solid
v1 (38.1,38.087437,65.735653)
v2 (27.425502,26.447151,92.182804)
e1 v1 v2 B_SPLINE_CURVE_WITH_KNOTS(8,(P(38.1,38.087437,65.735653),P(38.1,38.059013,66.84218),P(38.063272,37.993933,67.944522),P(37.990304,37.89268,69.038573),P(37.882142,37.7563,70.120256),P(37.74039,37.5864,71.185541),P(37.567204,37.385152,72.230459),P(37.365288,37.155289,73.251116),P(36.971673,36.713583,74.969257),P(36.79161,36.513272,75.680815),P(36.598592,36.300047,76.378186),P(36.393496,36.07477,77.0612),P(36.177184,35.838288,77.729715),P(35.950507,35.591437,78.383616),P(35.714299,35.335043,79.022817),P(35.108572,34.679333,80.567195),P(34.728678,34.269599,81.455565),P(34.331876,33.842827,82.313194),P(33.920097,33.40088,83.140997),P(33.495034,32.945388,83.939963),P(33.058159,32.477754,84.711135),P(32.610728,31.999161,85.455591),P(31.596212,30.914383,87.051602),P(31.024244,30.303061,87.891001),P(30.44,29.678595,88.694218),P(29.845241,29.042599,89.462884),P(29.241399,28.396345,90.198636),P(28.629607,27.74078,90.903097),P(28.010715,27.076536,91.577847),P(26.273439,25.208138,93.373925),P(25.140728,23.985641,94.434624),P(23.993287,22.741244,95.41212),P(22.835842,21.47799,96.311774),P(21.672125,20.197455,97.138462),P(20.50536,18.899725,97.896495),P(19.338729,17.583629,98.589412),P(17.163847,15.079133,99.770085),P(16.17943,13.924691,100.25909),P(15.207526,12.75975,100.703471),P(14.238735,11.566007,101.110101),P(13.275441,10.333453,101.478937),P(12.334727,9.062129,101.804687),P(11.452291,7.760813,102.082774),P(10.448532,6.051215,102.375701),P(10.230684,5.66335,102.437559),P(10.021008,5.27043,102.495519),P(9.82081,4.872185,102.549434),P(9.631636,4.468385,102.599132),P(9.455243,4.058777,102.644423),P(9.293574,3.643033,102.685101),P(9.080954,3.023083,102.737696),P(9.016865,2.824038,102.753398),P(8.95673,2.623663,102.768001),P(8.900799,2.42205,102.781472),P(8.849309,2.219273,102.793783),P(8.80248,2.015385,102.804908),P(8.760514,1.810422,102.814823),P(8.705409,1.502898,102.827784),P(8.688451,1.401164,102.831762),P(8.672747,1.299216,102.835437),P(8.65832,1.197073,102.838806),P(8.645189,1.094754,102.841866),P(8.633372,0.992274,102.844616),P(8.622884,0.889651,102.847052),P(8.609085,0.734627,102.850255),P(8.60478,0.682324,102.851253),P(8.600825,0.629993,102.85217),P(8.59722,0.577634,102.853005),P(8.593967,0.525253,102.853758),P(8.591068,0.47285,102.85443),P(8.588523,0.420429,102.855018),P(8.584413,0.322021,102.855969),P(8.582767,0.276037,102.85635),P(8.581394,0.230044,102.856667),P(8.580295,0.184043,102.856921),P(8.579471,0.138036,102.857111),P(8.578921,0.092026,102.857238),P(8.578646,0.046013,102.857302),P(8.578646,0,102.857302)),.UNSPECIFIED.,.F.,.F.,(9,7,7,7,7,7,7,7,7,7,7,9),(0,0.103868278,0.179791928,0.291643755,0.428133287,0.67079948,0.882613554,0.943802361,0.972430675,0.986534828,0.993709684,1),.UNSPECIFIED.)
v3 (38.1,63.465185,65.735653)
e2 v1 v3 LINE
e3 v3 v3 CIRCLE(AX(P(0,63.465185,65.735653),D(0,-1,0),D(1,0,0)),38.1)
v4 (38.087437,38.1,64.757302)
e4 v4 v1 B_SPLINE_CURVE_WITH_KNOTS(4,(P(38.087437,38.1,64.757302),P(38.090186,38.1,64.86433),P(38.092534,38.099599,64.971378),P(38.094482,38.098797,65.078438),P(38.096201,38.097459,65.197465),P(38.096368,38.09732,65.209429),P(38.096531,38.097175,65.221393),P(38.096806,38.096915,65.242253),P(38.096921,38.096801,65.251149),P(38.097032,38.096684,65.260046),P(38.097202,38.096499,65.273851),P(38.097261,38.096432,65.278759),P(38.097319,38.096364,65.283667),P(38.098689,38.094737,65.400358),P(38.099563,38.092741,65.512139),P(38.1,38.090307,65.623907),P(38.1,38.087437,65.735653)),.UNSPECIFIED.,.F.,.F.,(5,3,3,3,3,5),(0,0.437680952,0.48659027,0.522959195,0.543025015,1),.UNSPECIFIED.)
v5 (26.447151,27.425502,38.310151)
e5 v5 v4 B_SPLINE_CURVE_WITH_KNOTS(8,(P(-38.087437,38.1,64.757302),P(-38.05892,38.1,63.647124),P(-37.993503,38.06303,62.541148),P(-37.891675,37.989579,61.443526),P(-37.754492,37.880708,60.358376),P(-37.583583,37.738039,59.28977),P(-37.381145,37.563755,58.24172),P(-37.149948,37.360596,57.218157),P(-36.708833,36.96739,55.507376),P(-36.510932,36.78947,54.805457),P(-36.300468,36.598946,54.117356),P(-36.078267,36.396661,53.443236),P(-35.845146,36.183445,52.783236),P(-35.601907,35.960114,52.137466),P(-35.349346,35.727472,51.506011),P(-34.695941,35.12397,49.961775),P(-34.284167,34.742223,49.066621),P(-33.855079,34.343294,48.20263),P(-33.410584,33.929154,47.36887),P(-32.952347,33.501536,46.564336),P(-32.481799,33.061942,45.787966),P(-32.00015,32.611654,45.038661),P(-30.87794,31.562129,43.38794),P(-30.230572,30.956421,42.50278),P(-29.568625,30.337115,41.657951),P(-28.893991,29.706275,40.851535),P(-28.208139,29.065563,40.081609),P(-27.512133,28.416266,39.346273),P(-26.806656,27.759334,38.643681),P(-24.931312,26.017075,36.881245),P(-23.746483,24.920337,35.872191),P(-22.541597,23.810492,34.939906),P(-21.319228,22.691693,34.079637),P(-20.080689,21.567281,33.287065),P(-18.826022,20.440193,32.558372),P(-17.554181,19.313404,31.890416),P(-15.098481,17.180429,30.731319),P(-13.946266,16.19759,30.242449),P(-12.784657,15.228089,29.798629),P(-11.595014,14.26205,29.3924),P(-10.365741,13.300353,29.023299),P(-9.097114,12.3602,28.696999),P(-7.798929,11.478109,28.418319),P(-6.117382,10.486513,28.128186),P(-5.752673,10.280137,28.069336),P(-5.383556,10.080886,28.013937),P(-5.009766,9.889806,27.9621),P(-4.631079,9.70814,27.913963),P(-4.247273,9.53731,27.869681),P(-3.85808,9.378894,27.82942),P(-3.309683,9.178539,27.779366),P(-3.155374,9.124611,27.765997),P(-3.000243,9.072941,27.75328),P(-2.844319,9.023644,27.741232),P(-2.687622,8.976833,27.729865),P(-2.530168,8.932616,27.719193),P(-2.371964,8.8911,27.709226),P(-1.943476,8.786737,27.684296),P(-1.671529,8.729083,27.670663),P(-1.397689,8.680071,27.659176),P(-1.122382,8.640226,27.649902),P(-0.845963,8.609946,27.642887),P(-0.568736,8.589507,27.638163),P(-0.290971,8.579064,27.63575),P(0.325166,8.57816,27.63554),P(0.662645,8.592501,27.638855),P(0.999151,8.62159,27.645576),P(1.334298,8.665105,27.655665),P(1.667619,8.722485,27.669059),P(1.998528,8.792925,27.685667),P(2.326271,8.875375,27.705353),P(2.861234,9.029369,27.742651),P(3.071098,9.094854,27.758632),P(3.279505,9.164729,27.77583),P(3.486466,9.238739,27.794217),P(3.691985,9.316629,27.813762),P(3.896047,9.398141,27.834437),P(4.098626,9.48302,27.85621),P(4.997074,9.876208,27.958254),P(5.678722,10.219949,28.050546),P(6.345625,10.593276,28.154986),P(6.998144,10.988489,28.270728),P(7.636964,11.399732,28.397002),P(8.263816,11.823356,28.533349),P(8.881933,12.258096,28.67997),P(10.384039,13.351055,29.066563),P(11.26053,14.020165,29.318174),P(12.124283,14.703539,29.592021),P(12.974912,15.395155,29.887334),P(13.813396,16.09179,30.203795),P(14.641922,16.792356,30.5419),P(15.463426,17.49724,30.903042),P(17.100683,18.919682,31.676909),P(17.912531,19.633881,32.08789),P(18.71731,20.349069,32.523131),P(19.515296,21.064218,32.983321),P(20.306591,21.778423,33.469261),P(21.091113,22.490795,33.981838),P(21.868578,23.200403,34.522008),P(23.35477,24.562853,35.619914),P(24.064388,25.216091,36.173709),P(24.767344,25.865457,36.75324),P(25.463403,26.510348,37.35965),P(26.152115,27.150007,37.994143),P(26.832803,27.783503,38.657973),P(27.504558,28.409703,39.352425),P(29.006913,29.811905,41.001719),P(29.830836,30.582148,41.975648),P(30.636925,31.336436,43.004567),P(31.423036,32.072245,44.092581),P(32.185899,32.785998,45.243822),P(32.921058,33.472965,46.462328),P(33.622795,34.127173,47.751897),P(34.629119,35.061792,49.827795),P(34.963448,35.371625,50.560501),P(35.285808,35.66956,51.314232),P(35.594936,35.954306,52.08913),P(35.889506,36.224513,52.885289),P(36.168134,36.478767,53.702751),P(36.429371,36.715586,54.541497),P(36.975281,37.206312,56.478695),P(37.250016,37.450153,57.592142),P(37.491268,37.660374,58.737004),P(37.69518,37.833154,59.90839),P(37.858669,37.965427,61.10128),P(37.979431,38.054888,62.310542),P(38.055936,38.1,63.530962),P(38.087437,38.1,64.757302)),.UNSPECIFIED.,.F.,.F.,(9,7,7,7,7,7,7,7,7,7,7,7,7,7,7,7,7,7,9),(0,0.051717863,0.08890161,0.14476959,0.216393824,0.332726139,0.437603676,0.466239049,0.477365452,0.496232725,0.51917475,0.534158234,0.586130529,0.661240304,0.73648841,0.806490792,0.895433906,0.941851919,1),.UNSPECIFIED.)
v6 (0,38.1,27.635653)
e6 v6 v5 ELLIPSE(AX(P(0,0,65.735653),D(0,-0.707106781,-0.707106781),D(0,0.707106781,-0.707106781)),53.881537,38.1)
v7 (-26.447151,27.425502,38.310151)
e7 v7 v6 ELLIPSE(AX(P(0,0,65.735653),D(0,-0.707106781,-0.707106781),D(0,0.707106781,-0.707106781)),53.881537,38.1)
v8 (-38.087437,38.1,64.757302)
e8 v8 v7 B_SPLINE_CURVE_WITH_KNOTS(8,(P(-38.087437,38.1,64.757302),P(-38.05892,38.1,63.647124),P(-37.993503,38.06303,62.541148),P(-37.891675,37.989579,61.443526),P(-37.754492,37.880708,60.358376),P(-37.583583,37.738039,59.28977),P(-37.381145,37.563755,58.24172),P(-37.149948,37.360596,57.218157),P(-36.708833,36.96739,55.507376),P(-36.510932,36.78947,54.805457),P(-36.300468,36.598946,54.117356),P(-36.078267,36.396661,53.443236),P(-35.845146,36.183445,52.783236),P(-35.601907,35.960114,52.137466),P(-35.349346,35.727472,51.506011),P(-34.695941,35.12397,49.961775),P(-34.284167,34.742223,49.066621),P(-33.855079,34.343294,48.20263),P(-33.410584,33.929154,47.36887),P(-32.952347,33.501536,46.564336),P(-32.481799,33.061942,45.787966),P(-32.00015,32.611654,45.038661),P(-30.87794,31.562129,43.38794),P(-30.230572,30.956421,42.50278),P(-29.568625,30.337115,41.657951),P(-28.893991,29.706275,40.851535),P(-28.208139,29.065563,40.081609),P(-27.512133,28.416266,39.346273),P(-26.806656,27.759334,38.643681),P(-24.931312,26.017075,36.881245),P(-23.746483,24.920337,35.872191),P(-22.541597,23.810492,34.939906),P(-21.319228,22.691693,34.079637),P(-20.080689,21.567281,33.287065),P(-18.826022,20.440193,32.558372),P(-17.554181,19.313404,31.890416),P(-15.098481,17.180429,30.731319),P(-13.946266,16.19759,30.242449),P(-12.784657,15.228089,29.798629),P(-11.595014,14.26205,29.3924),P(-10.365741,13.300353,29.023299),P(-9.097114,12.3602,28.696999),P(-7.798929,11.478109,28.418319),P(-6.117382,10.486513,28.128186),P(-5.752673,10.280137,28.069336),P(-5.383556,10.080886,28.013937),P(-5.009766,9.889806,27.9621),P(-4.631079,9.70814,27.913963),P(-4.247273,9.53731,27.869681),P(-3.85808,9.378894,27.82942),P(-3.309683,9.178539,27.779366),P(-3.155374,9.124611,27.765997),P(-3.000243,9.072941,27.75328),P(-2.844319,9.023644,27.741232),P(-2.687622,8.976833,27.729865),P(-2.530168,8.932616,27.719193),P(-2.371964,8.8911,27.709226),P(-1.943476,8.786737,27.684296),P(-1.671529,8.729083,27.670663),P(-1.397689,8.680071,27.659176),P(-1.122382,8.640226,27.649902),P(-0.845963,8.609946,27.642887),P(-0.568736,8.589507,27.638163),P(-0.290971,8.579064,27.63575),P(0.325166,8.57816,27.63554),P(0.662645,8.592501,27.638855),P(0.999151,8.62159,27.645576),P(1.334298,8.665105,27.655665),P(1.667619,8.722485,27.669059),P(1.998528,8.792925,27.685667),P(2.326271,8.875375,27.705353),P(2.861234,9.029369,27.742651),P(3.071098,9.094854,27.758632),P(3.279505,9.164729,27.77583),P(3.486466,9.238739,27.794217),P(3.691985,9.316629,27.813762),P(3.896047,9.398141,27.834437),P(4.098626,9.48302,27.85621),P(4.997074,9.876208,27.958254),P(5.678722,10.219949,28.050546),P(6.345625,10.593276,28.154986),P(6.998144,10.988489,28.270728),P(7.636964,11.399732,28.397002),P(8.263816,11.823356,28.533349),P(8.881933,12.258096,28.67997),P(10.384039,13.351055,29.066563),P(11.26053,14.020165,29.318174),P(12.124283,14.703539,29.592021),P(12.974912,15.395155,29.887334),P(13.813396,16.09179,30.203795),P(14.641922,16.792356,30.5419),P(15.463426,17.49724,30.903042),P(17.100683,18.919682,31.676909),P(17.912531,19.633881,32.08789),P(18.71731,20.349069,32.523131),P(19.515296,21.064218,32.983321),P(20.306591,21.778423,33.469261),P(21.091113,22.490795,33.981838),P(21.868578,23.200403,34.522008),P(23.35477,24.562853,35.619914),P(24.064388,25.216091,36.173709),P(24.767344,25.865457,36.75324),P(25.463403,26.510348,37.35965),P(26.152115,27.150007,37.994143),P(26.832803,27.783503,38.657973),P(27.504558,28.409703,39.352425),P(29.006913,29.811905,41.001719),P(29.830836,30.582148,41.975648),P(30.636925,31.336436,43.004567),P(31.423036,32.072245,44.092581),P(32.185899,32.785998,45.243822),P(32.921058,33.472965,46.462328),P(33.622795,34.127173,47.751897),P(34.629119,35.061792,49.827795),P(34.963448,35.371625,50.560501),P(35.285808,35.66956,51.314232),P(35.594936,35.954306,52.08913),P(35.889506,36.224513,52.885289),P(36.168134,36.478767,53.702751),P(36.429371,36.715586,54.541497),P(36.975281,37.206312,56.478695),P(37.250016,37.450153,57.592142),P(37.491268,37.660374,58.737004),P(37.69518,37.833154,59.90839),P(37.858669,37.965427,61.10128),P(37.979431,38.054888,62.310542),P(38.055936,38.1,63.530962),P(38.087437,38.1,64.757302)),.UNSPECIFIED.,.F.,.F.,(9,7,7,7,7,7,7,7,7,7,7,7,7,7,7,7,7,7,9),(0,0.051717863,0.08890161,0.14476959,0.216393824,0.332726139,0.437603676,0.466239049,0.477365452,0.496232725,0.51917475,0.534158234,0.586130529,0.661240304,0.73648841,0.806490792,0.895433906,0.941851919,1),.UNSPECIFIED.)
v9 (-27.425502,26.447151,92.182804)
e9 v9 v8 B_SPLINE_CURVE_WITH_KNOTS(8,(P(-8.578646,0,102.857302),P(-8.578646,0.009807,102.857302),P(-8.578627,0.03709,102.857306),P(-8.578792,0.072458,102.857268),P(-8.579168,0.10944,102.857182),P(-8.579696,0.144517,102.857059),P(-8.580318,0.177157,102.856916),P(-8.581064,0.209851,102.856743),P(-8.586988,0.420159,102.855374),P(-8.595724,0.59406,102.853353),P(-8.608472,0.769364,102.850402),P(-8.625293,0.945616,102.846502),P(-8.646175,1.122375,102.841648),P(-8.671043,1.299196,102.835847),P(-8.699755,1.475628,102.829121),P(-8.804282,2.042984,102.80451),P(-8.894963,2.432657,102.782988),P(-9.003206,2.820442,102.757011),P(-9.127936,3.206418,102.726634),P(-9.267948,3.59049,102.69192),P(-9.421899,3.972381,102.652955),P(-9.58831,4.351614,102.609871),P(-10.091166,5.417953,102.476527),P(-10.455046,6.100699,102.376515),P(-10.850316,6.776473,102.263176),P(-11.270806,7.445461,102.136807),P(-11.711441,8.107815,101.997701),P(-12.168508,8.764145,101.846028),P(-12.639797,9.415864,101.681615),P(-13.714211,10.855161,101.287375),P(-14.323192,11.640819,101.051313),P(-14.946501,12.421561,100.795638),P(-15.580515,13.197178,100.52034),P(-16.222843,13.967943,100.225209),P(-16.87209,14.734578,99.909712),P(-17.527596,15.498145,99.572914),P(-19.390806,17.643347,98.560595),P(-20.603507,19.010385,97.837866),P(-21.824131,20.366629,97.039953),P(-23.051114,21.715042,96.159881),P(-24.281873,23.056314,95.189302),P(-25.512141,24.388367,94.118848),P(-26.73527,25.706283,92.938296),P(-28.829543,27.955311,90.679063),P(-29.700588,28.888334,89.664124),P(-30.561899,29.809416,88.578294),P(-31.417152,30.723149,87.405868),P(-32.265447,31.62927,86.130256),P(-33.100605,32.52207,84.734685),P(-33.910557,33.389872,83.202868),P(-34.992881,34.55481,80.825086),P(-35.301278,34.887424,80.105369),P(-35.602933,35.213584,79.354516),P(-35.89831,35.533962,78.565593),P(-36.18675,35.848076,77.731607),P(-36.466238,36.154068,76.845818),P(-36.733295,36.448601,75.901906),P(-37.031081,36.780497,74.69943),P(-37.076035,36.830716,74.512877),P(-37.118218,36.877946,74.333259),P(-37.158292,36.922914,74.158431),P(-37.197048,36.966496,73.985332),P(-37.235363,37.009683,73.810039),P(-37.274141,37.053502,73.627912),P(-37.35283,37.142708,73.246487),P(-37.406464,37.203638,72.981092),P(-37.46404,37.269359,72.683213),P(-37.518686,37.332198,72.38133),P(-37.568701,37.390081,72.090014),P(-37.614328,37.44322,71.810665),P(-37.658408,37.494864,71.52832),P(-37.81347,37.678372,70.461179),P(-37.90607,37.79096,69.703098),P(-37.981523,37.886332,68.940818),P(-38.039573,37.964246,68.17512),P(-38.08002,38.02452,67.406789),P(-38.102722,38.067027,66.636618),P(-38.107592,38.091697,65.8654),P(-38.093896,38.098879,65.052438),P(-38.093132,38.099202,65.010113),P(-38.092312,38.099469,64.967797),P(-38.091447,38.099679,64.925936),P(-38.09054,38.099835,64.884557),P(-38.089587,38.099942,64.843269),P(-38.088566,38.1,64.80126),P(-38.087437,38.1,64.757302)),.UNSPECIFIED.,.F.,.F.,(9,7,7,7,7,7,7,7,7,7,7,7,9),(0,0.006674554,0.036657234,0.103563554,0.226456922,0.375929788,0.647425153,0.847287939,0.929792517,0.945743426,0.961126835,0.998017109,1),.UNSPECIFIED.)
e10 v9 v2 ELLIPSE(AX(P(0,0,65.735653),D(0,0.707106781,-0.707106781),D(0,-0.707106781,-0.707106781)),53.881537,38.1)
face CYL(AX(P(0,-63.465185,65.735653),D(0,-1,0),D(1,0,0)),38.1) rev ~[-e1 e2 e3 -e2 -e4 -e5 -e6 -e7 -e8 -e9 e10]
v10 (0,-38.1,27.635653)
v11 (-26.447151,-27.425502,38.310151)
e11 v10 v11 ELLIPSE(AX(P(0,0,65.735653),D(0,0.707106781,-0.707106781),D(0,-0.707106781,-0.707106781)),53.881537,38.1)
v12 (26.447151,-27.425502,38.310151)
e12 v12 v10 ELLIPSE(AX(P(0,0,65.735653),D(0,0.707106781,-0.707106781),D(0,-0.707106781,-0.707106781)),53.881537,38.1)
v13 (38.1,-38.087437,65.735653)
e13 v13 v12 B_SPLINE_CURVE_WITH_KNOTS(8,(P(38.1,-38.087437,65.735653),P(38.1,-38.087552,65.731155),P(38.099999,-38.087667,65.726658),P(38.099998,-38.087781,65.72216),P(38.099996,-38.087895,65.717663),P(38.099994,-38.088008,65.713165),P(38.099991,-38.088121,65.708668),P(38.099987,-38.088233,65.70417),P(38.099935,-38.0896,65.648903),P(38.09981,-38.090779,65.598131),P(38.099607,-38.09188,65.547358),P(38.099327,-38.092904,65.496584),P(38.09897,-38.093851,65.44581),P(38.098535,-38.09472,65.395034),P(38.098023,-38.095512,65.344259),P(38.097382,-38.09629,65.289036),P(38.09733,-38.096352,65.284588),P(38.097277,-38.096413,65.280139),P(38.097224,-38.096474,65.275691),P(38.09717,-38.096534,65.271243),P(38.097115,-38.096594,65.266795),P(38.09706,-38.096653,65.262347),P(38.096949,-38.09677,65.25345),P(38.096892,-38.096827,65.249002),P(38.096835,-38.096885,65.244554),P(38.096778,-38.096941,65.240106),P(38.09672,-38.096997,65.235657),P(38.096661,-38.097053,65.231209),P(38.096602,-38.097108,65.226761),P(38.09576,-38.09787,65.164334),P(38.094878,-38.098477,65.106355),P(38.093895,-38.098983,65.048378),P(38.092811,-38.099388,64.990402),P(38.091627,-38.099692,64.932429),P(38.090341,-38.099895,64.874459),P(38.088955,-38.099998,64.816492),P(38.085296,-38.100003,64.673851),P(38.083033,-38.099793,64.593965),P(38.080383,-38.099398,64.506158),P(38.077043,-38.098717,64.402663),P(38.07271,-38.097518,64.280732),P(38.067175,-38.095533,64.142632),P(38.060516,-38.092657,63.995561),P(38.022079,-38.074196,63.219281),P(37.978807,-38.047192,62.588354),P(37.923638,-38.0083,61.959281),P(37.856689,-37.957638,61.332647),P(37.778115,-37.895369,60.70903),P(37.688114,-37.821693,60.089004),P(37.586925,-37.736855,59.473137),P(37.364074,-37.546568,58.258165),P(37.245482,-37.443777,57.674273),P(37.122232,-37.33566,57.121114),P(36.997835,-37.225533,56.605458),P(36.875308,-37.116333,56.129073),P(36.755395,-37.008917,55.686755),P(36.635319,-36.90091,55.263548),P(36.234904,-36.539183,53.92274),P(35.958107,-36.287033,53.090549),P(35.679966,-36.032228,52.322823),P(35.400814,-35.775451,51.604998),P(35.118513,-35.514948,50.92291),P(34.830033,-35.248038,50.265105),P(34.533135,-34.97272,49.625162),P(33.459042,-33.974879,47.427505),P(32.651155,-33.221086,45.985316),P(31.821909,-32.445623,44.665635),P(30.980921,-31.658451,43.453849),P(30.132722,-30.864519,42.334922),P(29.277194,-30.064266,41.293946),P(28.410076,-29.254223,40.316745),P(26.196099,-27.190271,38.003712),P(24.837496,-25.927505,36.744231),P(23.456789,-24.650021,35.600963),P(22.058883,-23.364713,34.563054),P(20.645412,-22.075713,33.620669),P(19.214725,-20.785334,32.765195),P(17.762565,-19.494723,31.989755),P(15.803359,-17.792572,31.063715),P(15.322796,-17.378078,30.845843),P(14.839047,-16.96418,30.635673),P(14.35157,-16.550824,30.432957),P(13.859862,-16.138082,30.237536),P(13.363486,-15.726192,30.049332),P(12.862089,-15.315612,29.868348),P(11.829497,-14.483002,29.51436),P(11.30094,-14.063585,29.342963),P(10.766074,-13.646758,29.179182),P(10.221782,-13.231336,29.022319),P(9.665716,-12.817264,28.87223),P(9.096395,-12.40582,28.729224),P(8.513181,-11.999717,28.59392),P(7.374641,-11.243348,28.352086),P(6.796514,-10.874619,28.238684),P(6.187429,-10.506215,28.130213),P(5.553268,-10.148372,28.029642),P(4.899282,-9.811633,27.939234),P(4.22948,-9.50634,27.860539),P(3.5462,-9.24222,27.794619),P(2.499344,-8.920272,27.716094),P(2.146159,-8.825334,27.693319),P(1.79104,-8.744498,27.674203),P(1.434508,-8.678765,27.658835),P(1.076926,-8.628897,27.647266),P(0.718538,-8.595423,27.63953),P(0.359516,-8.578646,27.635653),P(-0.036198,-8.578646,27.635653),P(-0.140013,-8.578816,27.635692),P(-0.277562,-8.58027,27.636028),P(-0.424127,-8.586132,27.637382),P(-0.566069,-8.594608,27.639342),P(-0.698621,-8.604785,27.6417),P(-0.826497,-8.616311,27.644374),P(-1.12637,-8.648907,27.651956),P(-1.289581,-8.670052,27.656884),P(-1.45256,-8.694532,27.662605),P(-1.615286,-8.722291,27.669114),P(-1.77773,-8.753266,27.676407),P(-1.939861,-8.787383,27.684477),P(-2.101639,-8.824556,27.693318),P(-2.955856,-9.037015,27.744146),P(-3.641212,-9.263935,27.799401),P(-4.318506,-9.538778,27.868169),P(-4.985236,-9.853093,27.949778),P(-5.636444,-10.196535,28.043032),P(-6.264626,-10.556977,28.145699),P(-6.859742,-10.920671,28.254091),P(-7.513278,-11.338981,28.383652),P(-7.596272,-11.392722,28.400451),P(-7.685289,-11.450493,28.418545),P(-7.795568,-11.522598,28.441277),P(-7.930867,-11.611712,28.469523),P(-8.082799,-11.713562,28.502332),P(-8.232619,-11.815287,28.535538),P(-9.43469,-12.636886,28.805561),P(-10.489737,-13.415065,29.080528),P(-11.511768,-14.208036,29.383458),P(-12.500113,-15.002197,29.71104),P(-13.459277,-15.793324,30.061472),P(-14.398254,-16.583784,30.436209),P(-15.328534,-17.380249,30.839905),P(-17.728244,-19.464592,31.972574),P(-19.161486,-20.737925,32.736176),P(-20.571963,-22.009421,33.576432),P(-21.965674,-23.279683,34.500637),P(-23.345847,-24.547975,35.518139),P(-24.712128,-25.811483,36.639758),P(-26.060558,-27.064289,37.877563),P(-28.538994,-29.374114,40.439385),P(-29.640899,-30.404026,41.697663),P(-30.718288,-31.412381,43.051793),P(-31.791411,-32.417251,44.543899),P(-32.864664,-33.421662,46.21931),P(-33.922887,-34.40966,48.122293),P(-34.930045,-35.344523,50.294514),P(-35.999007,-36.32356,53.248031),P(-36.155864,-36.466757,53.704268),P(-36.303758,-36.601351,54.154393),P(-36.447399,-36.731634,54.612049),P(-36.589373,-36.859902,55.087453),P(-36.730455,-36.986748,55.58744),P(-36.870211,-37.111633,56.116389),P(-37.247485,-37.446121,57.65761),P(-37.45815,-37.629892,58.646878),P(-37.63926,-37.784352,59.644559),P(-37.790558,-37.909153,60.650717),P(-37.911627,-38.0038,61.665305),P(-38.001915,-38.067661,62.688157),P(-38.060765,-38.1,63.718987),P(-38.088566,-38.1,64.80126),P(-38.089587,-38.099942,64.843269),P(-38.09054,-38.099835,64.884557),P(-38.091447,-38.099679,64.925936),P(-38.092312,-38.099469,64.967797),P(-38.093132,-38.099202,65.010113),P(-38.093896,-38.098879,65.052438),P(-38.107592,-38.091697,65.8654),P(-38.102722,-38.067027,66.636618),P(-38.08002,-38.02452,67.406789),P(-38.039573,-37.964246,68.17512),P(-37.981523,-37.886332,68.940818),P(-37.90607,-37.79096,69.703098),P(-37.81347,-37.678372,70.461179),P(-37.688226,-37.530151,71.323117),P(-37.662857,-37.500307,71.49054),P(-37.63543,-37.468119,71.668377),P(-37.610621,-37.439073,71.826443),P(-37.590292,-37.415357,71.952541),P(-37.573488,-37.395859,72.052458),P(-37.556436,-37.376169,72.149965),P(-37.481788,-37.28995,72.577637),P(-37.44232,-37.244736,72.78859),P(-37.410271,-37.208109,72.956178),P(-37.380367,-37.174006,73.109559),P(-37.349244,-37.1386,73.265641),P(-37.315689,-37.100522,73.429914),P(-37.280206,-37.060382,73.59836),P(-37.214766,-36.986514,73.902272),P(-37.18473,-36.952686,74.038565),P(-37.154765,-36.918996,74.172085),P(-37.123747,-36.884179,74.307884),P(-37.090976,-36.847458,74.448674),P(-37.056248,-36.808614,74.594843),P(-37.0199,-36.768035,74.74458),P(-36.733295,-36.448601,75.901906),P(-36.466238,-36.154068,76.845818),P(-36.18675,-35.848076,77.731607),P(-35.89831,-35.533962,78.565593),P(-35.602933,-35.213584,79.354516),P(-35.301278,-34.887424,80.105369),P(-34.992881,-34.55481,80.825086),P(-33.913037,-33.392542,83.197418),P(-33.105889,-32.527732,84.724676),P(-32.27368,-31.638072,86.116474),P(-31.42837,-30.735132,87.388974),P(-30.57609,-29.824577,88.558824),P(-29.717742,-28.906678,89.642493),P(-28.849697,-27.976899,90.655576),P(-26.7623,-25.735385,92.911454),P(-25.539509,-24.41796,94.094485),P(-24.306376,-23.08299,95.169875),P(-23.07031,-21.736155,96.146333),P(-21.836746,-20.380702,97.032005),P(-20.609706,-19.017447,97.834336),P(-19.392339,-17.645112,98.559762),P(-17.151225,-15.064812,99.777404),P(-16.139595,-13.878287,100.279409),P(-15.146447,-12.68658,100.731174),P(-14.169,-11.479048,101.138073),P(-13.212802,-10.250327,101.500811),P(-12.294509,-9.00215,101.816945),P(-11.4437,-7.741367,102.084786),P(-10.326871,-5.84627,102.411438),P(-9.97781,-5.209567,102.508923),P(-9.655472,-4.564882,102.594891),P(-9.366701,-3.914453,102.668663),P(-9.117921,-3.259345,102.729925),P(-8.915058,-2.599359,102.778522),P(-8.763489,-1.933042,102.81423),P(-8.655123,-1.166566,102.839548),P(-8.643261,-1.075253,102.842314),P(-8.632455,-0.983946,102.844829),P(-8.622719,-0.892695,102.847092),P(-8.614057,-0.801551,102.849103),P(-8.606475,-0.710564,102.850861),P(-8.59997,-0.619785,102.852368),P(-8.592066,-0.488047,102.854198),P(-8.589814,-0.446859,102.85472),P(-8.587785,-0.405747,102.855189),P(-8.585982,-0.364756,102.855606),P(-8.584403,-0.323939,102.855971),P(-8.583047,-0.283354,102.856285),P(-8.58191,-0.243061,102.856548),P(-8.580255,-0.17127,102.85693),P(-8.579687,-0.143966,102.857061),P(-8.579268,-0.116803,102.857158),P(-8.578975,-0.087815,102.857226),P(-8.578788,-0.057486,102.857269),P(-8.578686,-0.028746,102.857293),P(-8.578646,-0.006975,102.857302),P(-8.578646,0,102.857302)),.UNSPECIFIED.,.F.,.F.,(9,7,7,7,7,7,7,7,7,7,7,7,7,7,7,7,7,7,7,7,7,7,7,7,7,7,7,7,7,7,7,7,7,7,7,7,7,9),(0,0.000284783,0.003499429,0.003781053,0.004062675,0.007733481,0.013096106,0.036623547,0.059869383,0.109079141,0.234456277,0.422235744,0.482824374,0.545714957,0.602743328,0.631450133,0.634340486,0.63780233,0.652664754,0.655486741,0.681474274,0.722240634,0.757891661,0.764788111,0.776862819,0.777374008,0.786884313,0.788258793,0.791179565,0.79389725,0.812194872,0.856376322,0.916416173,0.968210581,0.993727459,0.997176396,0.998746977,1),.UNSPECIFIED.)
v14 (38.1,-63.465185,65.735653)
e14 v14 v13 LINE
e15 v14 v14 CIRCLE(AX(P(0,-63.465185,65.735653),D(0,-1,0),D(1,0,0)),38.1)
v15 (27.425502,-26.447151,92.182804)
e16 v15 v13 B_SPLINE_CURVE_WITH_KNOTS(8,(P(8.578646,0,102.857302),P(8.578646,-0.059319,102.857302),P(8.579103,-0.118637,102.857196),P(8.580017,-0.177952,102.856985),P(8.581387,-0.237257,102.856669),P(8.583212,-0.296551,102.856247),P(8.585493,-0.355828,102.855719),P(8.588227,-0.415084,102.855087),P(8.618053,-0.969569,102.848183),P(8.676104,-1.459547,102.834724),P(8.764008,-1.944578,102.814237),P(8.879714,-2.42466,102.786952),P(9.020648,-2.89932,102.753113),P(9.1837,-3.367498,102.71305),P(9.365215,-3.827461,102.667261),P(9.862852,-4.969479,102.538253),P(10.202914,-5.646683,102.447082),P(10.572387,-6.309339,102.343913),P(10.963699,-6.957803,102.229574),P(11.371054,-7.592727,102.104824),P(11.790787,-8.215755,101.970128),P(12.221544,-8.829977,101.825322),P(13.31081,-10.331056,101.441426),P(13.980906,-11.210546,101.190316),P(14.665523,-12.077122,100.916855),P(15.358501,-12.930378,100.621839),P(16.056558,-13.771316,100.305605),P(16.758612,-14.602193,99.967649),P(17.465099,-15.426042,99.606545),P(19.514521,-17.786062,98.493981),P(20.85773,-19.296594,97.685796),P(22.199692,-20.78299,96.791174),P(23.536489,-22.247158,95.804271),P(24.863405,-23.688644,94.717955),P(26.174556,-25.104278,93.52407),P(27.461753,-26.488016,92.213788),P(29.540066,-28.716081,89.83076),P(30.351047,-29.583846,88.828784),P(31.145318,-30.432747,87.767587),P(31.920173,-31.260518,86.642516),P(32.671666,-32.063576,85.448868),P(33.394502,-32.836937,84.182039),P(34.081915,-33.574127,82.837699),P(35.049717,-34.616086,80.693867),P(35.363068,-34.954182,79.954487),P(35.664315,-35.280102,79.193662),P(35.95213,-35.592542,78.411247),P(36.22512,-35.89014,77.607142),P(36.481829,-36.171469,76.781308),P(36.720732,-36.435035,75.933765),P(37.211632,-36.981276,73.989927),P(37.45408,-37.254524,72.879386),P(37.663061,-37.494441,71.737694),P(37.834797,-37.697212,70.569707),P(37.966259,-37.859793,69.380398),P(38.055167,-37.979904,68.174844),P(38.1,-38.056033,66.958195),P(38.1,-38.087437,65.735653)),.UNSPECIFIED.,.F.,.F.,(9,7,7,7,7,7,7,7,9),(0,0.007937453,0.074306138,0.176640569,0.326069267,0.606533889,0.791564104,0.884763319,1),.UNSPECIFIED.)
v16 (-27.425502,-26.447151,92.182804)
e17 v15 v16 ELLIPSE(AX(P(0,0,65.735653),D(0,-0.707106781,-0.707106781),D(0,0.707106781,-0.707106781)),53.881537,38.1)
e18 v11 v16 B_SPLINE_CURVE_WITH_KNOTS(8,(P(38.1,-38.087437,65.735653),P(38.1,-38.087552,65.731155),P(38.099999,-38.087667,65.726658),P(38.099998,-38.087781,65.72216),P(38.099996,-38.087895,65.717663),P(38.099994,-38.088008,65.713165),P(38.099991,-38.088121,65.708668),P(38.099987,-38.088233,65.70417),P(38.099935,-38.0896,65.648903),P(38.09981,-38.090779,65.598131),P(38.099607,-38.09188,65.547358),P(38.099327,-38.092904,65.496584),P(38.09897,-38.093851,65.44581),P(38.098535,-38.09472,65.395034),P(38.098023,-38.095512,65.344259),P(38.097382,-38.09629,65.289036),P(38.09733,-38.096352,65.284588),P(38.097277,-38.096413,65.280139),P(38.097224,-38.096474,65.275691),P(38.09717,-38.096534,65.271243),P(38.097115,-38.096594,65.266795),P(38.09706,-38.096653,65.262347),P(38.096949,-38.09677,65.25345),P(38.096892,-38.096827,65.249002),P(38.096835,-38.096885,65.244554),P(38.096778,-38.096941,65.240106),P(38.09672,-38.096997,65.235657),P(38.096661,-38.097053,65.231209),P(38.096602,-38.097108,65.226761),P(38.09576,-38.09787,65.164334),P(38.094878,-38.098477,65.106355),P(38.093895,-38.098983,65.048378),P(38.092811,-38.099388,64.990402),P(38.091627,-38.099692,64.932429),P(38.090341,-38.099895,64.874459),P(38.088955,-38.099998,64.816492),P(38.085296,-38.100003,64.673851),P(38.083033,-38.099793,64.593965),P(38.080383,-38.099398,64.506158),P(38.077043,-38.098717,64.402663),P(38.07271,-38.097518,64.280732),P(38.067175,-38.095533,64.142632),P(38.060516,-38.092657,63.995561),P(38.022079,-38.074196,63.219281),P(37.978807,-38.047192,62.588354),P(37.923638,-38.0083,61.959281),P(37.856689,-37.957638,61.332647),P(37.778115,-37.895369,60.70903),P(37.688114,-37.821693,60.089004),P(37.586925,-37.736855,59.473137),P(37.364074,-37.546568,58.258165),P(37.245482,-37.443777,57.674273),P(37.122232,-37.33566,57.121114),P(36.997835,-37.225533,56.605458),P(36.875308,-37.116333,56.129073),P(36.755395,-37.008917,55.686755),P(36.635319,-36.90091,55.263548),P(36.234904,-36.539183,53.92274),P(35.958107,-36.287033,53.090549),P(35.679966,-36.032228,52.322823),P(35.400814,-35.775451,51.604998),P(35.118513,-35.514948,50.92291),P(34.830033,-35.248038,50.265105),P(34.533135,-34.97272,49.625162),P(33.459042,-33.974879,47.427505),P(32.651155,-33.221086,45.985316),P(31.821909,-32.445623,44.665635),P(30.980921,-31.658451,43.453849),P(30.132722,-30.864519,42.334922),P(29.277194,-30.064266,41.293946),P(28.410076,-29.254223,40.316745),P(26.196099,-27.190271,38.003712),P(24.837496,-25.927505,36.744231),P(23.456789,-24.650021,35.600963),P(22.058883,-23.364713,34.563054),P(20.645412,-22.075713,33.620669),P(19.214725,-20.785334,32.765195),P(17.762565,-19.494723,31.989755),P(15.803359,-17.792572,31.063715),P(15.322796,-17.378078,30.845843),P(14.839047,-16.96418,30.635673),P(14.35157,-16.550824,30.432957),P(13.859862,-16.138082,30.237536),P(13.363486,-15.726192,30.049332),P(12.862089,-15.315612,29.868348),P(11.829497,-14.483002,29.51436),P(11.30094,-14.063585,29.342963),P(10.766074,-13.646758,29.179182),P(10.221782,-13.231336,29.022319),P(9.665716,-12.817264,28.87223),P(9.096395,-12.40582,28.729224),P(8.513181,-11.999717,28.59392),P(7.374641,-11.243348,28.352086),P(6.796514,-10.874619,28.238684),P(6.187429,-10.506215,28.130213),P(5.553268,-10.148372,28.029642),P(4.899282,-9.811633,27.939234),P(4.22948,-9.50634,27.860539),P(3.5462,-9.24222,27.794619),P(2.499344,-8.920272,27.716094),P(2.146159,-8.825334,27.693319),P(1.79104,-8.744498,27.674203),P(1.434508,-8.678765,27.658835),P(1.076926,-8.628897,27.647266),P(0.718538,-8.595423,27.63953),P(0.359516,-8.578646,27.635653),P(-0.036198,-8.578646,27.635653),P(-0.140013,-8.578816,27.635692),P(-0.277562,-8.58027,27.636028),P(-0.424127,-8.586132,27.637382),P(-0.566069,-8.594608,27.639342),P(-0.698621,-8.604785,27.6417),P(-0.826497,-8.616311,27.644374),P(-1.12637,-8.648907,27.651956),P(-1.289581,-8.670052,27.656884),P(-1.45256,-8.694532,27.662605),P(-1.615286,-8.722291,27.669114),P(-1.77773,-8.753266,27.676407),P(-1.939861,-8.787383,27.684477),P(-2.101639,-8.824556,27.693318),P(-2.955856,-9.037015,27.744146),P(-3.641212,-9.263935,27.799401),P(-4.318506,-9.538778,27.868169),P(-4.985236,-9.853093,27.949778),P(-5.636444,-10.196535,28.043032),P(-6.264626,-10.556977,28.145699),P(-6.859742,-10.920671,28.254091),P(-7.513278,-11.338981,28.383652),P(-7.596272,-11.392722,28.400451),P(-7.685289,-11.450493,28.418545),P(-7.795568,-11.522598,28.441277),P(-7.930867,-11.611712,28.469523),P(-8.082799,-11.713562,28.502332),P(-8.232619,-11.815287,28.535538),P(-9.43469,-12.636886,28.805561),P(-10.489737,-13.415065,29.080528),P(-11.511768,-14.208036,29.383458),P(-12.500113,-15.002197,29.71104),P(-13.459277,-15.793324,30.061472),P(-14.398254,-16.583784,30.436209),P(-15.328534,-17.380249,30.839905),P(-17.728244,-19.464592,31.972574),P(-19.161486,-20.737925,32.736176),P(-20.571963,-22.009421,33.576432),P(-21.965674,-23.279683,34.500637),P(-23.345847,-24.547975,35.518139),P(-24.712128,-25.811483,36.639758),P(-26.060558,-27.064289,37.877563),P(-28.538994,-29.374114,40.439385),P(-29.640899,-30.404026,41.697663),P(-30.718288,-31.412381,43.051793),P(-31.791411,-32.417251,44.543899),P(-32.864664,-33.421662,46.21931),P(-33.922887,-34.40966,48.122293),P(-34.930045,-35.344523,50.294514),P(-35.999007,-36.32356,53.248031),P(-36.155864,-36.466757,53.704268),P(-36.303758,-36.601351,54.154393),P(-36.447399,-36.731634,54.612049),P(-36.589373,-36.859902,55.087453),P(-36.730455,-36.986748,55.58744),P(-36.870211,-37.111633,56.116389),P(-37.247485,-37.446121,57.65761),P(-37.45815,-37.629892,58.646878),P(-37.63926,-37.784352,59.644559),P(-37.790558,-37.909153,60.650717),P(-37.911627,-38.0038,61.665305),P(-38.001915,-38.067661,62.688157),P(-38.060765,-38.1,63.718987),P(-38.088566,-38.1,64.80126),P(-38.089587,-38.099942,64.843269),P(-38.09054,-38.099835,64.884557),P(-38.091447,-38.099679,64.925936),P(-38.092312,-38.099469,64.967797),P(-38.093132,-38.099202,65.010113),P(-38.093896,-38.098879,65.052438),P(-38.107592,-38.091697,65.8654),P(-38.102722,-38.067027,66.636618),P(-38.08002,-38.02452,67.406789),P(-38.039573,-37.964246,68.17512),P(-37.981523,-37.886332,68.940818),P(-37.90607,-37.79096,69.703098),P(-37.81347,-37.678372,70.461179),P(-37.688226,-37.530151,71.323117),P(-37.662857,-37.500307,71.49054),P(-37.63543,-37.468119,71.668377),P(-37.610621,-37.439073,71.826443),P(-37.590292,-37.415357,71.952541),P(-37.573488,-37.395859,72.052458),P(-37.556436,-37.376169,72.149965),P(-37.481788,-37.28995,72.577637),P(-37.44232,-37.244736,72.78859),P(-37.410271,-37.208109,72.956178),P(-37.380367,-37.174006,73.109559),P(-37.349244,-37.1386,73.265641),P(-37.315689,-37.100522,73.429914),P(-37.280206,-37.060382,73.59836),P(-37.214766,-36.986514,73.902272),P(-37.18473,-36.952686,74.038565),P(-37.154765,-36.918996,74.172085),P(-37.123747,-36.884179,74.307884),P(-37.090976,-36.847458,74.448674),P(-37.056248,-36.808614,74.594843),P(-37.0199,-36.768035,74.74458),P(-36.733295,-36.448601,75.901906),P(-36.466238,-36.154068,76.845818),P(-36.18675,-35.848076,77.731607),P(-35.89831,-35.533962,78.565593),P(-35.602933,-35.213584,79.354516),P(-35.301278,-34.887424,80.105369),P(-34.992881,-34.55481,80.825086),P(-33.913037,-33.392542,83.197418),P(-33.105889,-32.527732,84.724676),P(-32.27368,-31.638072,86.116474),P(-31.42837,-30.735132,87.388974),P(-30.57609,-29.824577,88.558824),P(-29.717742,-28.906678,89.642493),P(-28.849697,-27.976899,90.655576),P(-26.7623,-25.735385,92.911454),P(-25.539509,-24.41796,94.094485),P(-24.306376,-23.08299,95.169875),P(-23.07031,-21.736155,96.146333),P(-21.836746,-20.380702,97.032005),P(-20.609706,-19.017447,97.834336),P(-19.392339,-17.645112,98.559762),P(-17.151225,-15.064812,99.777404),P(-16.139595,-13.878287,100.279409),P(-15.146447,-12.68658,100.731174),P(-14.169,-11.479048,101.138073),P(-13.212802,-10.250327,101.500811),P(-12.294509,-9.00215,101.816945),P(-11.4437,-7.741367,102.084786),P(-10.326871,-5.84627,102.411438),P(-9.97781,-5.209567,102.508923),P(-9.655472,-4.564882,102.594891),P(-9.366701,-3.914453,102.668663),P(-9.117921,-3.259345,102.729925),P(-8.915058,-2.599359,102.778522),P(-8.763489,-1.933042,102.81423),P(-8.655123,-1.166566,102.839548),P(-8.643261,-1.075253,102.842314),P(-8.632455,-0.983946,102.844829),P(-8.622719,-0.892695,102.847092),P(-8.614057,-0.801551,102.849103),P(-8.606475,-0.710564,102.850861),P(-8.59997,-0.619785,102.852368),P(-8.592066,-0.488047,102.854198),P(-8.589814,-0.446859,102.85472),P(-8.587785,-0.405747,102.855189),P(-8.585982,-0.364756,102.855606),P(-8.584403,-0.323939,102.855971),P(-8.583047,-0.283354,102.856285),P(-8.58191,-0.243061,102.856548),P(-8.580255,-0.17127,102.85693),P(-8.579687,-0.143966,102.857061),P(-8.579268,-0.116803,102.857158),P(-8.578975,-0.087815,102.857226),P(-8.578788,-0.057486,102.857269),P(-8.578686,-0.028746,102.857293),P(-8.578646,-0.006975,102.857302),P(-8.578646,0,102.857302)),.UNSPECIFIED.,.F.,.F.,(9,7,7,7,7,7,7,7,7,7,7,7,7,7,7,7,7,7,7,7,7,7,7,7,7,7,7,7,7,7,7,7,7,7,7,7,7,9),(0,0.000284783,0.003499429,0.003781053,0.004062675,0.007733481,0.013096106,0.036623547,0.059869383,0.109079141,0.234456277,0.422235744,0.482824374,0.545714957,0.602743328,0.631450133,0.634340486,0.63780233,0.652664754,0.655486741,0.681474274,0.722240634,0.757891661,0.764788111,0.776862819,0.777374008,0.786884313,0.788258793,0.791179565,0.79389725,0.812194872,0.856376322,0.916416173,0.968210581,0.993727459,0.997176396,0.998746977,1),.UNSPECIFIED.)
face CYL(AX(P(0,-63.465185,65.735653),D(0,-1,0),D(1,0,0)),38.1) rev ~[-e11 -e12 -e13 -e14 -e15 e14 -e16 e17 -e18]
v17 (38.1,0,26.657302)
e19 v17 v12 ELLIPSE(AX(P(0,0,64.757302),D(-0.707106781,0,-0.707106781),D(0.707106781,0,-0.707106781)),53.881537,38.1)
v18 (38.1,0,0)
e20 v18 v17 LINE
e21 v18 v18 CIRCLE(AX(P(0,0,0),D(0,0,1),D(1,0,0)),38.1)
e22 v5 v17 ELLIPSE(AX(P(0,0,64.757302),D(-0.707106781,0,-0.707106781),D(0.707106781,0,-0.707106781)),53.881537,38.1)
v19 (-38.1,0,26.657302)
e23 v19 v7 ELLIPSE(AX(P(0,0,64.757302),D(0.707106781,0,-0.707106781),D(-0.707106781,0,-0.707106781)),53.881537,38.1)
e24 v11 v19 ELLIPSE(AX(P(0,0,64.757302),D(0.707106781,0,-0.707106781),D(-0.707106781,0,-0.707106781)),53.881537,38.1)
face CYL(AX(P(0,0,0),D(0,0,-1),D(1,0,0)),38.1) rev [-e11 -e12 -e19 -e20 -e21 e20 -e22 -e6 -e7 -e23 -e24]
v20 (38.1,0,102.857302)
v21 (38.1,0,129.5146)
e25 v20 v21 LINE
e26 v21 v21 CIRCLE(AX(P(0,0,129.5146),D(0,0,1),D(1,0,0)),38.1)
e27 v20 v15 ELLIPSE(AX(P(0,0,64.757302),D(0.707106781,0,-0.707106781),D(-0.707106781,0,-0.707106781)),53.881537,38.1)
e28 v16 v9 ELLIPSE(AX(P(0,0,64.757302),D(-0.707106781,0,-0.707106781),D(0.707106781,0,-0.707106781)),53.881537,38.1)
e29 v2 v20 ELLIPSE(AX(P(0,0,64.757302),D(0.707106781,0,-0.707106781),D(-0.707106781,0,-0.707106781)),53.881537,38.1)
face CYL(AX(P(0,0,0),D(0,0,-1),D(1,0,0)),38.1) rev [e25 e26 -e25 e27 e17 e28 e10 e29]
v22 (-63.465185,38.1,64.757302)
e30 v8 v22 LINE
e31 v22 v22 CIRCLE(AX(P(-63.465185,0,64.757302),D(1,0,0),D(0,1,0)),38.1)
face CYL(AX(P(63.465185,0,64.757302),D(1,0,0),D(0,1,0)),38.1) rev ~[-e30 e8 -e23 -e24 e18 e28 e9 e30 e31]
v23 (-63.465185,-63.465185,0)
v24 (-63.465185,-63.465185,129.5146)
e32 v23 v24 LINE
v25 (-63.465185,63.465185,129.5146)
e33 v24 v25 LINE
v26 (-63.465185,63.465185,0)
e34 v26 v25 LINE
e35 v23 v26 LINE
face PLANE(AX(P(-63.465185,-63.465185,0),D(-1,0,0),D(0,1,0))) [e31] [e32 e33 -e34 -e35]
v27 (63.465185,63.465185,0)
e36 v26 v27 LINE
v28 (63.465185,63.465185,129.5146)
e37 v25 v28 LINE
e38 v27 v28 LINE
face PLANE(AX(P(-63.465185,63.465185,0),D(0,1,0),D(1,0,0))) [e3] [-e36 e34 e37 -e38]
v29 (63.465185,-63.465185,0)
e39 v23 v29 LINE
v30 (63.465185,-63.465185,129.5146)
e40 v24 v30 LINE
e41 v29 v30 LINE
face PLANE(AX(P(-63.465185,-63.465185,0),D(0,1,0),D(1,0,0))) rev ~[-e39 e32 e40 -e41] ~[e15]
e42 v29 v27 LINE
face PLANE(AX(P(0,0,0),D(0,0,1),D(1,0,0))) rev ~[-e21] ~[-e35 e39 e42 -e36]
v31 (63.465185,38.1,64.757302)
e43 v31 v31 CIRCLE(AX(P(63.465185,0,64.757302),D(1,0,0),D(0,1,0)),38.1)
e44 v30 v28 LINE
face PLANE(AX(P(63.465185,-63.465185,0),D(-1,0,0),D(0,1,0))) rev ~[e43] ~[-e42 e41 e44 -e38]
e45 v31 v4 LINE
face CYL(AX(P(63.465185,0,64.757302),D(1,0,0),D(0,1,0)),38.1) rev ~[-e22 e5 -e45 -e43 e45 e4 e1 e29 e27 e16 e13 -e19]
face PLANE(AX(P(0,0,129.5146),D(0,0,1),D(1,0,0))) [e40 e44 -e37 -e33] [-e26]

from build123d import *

# Parameters (mm, degrees)
F0_W     = 126.93037
F0_H     = 126.93037
F0_R     = 38.1
F1_DEPTH = 129.5146
F2_R     = 38.1
F3_DEPTH = 129.5146
F4_R     = 38.1
F5_DEPTH = 129.5146


with BuildPart() as f1:
    # F0 (on Top) → F1 (new body)
    with BuildSketch(Plane.XY):
        Rectangle(F0_W, F0_H)
        Circle(F0_R, mode=Mode.SUBTRACT)
    extrude(amount=F1_DEPTH)

    # F2 (on face) → F3 (cut)
    with BuildSketch(Plane.XZ.offset(63.465185)):
        with Locations((0, 65.735653)):
            Circle(F2_R)
    extrude(amount=-F3_DEPTH, mode=Mode.SUBTRACT)

    # F4 (on face) → F5 (cut)
    with BuildSketch(Plane.YZ.offset(63.465185)):
        with Locations((0, 64.757302)):
            Circle(F4_R)
    extrude(amount=-F5_DEPTH, mode=Mode.SUBTRACT)


solid = f1.part
